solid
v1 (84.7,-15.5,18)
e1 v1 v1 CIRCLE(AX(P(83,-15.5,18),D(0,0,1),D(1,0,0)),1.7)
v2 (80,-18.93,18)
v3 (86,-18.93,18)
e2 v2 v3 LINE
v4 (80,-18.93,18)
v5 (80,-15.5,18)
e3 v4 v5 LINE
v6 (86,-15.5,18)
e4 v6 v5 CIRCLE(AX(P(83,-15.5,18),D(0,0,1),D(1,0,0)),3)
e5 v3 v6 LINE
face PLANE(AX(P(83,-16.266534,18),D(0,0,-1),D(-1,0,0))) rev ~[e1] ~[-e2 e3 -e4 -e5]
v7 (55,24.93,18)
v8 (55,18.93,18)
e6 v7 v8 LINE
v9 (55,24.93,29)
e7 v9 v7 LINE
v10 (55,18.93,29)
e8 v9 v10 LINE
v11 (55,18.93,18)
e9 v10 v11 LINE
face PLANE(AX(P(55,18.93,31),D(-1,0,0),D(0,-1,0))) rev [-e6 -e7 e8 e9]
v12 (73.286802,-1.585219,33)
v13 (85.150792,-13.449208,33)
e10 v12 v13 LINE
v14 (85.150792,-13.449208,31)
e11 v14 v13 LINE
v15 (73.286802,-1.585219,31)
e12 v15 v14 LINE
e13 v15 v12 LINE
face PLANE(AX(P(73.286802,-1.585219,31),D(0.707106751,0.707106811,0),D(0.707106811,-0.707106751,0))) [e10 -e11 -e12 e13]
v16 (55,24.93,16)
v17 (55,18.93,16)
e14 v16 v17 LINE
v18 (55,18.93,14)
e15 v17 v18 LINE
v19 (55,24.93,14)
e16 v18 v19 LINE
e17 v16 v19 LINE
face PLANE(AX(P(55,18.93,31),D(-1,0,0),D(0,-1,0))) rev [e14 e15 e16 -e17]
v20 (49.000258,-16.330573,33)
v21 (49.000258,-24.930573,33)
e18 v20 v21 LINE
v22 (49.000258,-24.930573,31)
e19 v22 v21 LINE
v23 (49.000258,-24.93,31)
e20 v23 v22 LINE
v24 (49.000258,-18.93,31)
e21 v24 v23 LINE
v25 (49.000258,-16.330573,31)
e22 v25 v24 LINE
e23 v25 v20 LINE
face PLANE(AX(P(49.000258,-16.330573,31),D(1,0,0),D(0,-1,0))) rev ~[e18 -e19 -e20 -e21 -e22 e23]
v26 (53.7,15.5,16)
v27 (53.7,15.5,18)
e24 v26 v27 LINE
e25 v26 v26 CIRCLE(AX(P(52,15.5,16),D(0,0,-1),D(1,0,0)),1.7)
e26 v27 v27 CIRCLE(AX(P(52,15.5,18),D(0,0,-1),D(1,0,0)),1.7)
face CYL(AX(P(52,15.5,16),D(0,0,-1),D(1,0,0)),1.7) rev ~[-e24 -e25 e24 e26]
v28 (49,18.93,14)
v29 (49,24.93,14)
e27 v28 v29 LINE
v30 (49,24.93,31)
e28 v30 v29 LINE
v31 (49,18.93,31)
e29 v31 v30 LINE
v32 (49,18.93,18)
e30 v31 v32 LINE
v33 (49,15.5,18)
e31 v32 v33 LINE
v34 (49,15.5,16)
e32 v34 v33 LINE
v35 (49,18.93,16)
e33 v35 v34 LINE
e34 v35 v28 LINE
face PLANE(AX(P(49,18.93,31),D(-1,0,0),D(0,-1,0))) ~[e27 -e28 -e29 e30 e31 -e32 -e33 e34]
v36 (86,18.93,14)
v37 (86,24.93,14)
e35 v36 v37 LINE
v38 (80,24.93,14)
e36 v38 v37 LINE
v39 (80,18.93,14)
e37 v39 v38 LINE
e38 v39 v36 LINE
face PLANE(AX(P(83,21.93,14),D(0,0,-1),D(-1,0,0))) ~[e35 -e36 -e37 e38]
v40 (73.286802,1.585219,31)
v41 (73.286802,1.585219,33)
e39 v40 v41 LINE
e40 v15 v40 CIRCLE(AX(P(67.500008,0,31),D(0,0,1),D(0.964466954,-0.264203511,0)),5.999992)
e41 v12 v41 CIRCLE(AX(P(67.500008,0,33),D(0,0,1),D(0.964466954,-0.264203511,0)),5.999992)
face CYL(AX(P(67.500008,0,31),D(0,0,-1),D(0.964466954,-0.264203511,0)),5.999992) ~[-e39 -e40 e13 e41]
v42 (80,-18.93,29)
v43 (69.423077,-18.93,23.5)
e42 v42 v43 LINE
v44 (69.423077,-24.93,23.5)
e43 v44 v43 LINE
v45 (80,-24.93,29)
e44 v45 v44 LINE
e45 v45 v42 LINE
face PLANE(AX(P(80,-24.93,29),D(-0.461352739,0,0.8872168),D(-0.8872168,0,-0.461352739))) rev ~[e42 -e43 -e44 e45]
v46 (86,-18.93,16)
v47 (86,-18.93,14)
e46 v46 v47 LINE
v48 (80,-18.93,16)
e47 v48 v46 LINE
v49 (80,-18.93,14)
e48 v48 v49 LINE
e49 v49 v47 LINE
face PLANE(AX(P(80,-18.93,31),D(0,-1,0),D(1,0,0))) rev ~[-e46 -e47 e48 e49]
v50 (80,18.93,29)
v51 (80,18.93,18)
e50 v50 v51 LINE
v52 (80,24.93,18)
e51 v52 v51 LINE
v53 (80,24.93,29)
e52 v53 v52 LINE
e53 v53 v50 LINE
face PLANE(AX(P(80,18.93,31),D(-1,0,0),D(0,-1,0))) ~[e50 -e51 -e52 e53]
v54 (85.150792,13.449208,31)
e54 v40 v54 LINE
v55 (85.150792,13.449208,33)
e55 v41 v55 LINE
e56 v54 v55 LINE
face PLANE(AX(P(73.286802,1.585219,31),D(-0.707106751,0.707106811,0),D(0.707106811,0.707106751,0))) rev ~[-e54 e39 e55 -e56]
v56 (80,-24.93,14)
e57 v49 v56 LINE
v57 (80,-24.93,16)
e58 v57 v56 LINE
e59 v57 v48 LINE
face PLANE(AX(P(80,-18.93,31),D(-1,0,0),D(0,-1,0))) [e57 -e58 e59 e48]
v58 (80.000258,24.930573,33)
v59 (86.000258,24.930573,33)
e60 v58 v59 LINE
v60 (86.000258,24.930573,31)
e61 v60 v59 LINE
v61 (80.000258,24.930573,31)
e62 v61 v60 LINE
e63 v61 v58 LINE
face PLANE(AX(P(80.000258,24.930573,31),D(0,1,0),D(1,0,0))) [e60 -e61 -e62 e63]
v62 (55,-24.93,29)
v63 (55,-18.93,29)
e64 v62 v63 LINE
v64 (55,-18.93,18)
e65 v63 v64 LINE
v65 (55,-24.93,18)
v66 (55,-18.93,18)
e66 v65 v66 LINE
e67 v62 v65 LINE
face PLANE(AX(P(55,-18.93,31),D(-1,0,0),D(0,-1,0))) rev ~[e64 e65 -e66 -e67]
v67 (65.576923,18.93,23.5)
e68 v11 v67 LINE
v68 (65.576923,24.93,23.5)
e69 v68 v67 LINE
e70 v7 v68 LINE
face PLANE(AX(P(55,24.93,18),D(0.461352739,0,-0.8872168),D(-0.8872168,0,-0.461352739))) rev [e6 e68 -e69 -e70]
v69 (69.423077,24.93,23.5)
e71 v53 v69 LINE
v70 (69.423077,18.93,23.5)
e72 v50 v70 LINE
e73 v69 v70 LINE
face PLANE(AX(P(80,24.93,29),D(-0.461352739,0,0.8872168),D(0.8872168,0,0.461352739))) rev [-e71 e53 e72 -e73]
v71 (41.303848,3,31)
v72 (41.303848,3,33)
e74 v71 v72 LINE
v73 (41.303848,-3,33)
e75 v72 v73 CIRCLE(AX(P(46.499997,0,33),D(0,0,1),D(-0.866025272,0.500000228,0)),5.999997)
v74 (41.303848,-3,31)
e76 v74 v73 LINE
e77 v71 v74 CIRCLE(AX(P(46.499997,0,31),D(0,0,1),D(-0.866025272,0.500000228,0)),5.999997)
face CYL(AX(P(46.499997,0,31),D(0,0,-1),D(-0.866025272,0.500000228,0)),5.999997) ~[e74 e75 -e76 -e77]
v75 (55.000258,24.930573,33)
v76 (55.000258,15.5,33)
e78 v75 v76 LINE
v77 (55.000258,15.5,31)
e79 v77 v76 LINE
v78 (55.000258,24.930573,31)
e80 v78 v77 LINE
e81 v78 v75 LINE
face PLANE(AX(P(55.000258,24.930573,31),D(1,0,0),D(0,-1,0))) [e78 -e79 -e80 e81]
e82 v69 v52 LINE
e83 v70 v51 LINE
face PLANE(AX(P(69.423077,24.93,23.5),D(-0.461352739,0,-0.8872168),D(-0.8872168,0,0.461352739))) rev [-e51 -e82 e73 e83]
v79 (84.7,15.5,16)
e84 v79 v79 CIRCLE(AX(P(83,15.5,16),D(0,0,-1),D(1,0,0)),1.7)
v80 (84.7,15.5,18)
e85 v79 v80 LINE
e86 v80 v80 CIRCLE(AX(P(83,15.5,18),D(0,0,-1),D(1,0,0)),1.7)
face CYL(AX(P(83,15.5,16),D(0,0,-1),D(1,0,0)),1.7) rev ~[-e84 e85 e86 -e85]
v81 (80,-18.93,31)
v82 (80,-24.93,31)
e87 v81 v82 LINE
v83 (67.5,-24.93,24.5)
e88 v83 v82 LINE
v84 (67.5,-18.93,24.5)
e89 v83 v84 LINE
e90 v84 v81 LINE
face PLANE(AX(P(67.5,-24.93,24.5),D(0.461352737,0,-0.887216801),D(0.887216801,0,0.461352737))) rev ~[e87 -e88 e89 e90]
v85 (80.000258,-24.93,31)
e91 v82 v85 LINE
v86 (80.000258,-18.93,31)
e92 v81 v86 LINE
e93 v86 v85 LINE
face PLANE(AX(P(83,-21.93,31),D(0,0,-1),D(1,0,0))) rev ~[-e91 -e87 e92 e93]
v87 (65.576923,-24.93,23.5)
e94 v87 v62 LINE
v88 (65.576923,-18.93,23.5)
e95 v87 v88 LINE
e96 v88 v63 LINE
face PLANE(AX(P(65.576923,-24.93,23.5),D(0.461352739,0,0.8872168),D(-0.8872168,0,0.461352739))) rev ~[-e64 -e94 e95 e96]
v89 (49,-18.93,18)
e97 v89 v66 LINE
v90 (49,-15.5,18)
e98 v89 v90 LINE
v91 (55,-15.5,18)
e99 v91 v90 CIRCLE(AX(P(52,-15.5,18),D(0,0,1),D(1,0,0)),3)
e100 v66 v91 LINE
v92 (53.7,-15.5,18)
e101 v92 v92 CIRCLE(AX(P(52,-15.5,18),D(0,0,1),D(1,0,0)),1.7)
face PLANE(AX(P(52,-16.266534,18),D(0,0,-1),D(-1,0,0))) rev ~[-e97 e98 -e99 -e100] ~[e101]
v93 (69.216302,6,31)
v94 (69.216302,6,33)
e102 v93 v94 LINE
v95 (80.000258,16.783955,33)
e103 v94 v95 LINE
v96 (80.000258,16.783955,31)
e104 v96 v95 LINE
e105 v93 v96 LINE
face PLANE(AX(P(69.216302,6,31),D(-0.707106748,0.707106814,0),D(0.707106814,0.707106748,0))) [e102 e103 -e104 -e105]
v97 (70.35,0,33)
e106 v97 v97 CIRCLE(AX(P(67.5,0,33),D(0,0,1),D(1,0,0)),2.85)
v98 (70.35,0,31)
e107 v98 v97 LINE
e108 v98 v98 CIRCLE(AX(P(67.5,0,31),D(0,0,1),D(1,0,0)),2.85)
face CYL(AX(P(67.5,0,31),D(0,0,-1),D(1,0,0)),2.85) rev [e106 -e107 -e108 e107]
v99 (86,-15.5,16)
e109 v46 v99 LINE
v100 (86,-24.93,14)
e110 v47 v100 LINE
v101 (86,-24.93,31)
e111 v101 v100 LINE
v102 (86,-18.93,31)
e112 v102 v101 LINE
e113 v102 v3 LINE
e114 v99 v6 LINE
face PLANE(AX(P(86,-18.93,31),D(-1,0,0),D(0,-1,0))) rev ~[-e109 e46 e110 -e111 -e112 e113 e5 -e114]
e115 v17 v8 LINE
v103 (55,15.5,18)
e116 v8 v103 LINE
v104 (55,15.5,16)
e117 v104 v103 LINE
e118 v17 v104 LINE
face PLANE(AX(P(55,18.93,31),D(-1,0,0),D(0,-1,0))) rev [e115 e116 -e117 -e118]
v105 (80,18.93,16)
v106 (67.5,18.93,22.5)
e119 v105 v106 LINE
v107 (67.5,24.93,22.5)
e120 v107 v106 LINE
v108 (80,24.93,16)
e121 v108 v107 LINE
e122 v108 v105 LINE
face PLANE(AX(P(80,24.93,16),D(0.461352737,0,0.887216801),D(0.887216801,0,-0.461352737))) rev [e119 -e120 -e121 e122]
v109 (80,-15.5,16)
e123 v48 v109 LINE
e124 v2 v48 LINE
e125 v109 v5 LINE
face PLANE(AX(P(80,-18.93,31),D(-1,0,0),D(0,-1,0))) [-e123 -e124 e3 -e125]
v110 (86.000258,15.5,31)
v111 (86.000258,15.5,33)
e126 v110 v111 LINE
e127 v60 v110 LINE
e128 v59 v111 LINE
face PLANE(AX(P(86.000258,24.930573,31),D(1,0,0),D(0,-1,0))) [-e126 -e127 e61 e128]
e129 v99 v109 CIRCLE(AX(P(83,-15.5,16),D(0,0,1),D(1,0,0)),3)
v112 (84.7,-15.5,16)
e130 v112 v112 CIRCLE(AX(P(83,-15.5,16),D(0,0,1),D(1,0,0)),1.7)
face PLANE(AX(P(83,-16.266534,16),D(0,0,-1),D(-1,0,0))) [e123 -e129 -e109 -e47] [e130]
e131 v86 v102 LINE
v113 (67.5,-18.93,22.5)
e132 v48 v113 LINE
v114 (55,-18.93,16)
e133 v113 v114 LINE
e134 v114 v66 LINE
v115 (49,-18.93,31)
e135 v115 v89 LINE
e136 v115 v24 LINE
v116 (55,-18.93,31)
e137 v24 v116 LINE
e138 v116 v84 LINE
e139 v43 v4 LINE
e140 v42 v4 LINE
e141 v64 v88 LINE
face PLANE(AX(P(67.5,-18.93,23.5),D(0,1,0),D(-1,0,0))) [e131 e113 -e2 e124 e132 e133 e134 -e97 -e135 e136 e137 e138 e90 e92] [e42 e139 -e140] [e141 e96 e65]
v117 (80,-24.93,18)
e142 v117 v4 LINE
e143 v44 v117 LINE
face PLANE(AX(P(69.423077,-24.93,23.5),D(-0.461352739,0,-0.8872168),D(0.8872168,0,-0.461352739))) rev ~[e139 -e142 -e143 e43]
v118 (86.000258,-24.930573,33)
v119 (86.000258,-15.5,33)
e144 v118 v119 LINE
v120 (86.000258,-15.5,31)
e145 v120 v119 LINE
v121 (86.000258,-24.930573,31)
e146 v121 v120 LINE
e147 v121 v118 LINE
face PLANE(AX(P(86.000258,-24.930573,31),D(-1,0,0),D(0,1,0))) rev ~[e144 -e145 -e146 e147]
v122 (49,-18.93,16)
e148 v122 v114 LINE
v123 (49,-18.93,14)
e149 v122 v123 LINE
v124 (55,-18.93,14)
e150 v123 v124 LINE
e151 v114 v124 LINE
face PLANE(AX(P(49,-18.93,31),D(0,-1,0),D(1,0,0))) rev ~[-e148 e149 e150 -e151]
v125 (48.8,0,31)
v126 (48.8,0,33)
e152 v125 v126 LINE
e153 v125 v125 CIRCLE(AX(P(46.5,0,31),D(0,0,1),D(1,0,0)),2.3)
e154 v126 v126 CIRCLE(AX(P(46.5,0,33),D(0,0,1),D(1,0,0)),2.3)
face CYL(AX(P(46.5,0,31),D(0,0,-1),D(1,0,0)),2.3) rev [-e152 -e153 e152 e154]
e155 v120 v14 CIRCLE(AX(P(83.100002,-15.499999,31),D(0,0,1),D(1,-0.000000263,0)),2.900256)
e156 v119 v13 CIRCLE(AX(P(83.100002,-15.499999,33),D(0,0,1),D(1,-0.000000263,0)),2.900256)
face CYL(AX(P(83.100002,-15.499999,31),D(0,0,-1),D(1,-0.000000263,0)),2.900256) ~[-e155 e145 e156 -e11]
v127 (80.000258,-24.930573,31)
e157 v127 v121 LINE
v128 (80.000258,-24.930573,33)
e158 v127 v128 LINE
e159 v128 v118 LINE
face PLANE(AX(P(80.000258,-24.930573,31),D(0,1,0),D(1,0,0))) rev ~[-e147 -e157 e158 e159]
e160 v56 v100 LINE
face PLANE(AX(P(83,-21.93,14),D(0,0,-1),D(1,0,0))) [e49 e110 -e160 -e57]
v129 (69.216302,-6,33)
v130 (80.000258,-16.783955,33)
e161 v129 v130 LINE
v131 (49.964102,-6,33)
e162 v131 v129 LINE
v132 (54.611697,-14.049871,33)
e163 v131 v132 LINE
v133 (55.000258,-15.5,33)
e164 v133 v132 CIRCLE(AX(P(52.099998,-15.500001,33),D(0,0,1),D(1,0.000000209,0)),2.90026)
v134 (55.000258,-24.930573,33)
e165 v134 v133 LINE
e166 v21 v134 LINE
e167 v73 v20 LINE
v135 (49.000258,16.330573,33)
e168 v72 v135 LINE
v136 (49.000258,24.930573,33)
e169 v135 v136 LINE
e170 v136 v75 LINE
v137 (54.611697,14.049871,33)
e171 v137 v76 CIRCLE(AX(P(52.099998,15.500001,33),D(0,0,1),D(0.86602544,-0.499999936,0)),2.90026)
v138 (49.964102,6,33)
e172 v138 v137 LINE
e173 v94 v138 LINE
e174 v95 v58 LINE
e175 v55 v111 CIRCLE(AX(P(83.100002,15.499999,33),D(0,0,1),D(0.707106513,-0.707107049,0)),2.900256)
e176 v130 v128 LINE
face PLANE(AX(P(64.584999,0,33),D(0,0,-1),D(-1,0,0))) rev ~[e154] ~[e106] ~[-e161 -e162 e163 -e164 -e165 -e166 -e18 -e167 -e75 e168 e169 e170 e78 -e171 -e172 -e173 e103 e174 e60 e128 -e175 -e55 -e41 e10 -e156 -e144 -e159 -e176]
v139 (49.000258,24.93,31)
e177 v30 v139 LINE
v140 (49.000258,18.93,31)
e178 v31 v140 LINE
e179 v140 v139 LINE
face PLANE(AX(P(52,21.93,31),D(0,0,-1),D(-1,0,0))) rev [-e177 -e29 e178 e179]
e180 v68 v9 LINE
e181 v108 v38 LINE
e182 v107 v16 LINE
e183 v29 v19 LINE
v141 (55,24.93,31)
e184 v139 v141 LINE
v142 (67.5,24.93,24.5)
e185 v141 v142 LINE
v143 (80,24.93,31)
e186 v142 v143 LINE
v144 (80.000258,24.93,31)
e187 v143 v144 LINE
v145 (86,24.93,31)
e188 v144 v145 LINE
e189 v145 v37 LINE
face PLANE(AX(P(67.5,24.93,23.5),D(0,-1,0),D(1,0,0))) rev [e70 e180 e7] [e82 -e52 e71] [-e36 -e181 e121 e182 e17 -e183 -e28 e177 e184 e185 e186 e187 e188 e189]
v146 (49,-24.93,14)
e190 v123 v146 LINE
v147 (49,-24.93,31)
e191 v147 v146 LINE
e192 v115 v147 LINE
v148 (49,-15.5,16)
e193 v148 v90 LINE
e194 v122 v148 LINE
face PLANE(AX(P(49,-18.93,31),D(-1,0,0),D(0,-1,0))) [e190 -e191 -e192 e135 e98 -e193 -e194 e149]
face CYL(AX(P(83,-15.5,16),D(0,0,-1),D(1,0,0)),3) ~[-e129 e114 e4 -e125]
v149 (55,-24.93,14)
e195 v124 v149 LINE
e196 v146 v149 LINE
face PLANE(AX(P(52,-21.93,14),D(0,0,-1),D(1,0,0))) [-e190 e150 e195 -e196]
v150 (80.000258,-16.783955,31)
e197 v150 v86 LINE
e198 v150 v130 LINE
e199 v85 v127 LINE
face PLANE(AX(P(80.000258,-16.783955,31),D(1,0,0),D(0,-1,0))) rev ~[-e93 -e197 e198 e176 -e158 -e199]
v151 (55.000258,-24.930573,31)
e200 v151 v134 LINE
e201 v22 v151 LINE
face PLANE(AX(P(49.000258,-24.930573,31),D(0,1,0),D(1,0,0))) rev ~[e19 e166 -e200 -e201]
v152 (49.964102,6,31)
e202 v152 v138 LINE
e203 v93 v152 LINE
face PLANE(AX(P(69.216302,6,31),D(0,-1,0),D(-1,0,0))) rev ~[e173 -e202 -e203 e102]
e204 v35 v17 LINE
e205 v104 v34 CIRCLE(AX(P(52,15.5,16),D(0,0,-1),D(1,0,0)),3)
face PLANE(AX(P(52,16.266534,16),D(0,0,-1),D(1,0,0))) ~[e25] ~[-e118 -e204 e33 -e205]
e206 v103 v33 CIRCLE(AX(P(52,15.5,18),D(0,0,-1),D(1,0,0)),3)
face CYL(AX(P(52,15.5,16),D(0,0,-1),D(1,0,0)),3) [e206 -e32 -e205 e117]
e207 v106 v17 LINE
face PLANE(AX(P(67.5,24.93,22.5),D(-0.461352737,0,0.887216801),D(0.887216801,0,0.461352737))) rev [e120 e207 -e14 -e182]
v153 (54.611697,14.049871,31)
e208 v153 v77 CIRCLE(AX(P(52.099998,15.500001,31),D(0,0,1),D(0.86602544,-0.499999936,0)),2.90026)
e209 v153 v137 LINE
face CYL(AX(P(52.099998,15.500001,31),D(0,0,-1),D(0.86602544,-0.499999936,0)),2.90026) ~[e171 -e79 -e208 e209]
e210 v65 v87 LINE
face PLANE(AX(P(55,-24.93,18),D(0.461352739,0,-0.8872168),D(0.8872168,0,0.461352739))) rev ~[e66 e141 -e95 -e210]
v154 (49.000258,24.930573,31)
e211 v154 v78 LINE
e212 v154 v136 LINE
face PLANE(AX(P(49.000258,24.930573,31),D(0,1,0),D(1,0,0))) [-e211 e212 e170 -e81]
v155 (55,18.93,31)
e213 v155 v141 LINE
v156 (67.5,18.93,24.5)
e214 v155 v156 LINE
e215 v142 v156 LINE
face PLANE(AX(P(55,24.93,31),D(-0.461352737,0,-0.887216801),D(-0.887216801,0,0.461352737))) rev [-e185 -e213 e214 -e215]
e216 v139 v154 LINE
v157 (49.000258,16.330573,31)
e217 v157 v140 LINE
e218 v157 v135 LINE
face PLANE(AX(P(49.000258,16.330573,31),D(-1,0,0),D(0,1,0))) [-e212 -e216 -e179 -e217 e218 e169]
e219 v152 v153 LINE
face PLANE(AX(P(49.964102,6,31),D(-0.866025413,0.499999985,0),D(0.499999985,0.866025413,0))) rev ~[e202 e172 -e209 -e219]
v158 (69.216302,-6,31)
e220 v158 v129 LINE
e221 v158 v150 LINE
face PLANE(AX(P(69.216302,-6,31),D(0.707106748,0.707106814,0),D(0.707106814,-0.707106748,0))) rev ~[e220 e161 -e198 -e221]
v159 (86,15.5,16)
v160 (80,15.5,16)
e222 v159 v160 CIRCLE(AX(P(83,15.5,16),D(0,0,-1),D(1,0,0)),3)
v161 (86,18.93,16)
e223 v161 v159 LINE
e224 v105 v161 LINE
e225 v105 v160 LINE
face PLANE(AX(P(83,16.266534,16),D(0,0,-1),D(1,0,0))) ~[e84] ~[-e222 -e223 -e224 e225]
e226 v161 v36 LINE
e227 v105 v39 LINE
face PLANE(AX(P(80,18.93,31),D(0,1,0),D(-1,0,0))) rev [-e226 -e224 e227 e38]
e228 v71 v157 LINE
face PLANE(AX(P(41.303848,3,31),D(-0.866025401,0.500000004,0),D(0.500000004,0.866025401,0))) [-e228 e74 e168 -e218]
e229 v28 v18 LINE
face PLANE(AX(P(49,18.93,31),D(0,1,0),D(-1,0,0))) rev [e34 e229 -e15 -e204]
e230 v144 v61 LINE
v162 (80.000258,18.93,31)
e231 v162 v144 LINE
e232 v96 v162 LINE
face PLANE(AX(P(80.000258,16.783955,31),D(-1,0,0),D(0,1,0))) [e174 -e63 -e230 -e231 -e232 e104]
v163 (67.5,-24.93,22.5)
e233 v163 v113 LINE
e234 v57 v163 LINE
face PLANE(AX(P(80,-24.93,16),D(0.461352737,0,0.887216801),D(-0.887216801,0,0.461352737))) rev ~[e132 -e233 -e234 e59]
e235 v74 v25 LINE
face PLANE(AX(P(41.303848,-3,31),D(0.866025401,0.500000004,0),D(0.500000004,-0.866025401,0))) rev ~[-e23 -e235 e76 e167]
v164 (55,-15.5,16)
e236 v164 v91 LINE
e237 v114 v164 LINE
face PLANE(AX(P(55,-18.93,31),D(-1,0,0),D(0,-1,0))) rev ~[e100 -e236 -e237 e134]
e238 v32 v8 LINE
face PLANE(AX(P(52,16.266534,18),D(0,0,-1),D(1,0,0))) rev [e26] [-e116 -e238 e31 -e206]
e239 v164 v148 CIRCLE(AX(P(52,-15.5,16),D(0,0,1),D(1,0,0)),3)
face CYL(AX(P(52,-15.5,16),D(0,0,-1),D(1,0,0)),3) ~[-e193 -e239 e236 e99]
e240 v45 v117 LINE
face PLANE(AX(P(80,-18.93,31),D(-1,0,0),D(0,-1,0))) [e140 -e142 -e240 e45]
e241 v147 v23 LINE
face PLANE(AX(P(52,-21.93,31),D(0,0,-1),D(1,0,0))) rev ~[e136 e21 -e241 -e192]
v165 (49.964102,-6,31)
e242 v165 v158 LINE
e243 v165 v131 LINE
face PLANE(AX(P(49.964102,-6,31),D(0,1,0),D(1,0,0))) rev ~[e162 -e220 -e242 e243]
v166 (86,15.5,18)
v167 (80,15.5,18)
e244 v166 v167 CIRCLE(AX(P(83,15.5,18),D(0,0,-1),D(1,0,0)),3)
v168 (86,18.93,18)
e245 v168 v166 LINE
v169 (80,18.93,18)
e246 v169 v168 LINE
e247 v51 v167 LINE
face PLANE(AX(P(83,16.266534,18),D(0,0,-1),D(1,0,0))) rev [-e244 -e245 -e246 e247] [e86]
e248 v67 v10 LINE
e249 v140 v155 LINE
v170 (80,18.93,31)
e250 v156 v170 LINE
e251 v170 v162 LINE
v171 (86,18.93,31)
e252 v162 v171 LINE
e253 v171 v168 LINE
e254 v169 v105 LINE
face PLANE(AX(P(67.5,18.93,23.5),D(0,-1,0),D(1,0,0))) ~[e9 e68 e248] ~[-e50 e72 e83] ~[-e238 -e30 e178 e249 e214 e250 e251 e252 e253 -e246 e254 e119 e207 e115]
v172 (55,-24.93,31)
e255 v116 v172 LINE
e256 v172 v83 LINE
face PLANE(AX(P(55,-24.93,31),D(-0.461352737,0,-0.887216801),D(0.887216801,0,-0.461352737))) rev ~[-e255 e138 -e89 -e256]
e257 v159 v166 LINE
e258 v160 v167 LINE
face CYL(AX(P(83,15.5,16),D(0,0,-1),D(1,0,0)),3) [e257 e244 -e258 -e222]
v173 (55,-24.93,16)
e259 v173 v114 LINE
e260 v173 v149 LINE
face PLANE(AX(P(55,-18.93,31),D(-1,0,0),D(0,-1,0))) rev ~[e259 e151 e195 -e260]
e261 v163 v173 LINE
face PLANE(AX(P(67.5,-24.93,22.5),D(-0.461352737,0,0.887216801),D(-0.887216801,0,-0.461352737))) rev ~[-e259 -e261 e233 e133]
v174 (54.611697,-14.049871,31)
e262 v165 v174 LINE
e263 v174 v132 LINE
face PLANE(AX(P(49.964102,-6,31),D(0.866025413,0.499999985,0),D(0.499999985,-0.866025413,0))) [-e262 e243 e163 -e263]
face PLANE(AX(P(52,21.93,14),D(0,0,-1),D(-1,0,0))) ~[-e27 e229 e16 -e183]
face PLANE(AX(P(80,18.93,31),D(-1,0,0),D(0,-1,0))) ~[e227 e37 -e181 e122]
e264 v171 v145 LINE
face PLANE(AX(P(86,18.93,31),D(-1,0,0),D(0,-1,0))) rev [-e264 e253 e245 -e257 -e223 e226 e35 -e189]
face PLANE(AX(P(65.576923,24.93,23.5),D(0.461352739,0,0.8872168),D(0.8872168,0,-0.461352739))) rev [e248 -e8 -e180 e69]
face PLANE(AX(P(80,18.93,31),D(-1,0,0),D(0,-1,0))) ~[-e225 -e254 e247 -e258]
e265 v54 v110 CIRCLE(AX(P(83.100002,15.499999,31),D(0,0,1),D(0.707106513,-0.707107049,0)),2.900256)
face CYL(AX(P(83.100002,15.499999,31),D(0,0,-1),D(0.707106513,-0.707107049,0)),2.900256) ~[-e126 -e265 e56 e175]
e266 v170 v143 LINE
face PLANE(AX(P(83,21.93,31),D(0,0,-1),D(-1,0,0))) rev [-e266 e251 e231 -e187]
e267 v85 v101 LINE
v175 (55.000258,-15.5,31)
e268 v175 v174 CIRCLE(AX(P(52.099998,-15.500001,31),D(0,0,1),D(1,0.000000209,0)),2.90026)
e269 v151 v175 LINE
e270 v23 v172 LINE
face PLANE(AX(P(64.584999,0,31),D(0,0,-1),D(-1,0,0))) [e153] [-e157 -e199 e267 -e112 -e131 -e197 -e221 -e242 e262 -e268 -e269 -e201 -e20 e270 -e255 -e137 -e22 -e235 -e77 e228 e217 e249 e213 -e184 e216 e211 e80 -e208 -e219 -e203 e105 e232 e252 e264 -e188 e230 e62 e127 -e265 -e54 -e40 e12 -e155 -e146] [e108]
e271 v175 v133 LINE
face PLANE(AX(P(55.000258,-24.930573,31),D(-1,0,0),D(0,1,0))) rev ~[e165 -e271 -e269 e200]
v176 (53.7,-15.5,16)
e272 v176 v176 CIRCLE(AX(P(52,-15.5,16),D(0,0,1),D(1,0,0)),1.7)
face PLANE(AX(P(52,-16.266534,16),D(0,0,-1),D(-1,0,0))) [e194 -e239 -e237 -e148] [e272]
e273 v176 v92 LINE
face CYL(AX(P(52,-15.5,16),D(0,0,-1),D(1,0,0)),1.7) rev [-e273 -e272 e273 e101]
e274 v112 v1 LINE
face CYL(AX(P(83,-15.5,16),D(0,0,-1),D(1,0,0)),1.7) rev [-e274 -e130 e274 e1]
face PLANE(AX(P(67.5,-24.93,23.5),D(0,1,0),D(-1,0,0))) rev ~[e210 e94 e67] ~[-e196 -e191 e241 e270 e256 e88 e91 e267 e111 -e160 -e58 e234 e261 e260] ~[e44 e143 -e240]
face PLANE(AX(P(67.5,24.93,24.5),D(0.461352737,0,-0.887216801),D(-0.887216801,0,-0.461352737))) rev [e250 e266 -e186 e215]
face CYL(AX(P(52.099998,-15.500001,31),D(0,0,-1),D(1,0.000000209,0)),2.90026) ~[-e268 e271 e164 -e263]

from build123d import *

# Parameters (mm, degrees)
SKETCH094_R                     = 2.3
SKETCH094_R_2                   = 2.85
PAD048_DEPTH                    = 2
SKETCH097_W                     = 6
SKETCH097_H                     = 6
PAD050_DEPTH                    = 17
SKETCH098_R                     = 1.7
PAD051_DEPTH                    = 2
SKETCH098_LINEARPATTERN001_2_R  = 1.7
PAD051_LINEARPATTERN001_2_DEPTH = 2
SKETCH097_LINEARPATTERN001_2_W  = 6
SKETCH097_LINEARPATTERN001_2_H  = 6
PAD050_LINEARPATTERN001_2_DEPTH = 17
PAD052_DEPTH                    = 6


with BuildPart() as part:
    # Sketch094 → Pad048 (new body)
    with BuildSketch(Plane.XY):
        with BuildLine():
            Line((3.464102, 6), (21, 6))
            Line((22.716302, 6), (21, 6))
            Line((22.716302, 6), (33.500258, 16.783955))
            Line((33.500258, 16.783955), (33.500258, 24.930573))
            Line((33.500258, 24.930573), (39.500258, 24.930573))
            Line((39.500258, 24.930573), (39.500258, 15.5))
            ThreePointArc((38.650792, 13.449208), (39.279489, 14.390119), (39.500258, 15.5))
            Line((26.786802, 1.585219), (38.650792, 13.449208))
            ThreePointArc((26.786802, -1.585219), (27, 0), (26.786802, 1.585219))
            Line((26.786802, -1.585219), (38.650792, -13.449208))
            ThreePointArc((39.500258, -15.5), (39.279489, -14.390119), (38.650792, -13.449208))
            Line((39.500258, -24.930573), (39.500258, -15.5))
            Line((33.500258, -24.930573), (39.500258, -24.930573))
            Line((33.500258, -16.783955), (33.500258, -24.930573))
            Line((22.716302, -6), (33.500258, -16.783955))
            Line((21, -6), (22.716302, -6))
            Line((3.464102, -6), (21, -6))
            Line((3.464102, -6), (8.111697, -14.049871))
            ThreePointArc((8.500258, -15.5), (8.401434, -14.749358), (8.111697, -14.049871))
            Line((8.500258, -24.930573), (8.500258, -15.5))
            Line((2.500258, -24.930573), (8.500258, -24.930573))
            Line((2.500258, -16.330573), (2.500258, -24.930573))
            Line((-5.196152, -3), (2.500258, -16.330573))
            ThreePointArc((-5.196152, 3), (-6, 0), (-5.196152, -3))
            Line((-5.196152, 3), (2.500258, 16.330573))
            Line((2.500258, 16.330573), (2.500258, 24.930573))
            Line((2.500258, 24.930573), (8.500258, 24.930573))
            Line((8.500258, 24.930573), (8.500258, 15.5))
            ThreePointArc((8.111697, 14.049871), (8.401434, 14.749358), (8.500258, 15.5))
            Line((3.464102, 6), (8.111697, 14.049871))
        make_face()
        Circle(SKETCH094_R, mode=Mode.SUBTRACT)
        with Locations((21, 0)):
            Circle(SKETCH094_R_2, mode=Mode.SUBTRACT)
    extrude(amount=PAD048_DEPTH)

    # Sketch097 (on Face33 of Pad048) → Pad050 (join)
    with BuildSketch(Plane(origin=(0, 0, 0), x_dir=(1, 0, 0), z_dir=(0, 0, -1))):
        with Locations((5.5, 21.93)):
            Rectangle(SKETCH097_W, SKETCH097_H)
    pad050 = extrude(amount=PAD050_DEPTH)

    # Sketch098 → Pad051 (join)
    with BuildSketch(Plane.XY.offset(-15)):
        with BuildLine():
            Line((2.5, -18.93), (2.5, -15.5))
            ThreePointArc((8.5, -15.5), (5.5, -12.5), (2.5, -15.5))
            Line((8.5, -18.93), (8.5, -15.5))
            Line((2.5, -18.93), (8.5, -18.93))
        make_face()
        with Locations((5.5, -15.5)):
            Circle(SKETCH098_R, mode=Mode.SUBTRACT)
    pad051 = extrude(amount=PAD051_DEPTH)

    # Sketch098 LinearPattern001 2 → Pad051 LinearPattern001 2 (add)
    with BuildSketch(Plane(origin=(31, 0, -15), x_dir=(1, 0, 0), z_dir=(0, 0, 1))):
        with BuildLine():
            Line((2.5, -18.93), (2.5, -15.5))
            ThreePointArc((8.5, -15.5), (5.5, -12.5), (2.5, -15.5))
            Line((8.5, -18.93), (8.5, -15.5))
            Line((2.5, -18.93), (8.5, -18.93))
        make_face()
        with Locations((5.5, -15.5)):
            Circle(SKETCH098_LINEARPATTERN001_2_R, mode=Mode.SUBTRACT)
    pad051_linearpattern001_2 = extrude(amount=PAD051_LINEARPATTERN001_2_DEPTH)

    # Sketch097 LinearPattern001 2 → Pad050 LinearPattern001 2 (add)
    with BuildSketch(Plane(origin=(31, 0, 0), x_dir=(1, 0, 0), z_dir=(0, 0, -1))):
        with Locations((5.5, 21.93)):
            Rectangle(SKETCH097_LINEARPATTERN001_2_W, SKETCH097_LINEARPATTERN001_2_H)
    pad050_linearpattern001_2 = extrude(amount=PAD050_LINEARPATTERN001_2_DEPTH)

    # Mirrored001: Pad051, Pad050, Pad051 LinearPattern001 2, Pad050 LinearPattern001 2 across Sketch098 H_Axis
    add(pad051.mirror(Plane(origin=(0, 0, -15), x_dir=(0, 0, 1), z_dir=(0, 1, 0))))
    add(pad050.mirror(Plane(origin=(0, 0, -15), x_dir=(0, 0, 1), z_dir=(0, 1, 0))))
    add(pad051_linearpattern001_2.mirror(Plane(origin=(0, 0, -15), x_dir=(0, 0, 1), z_dir=(0, 1, 0))))
    add(pad050_linearpattern001_2.mirror(Plane(origin=(0, 0, -15), x_dir=(0, 0, 1), z_dir=(0, 1, 0))))

    # Sketch099 (on Face36 of MultiTransform001) → Pad052 (join)
    with BuildSketch(Plane.XZ.offset(24.93)):
        Polygon((8.5, 0), (21, -6.5), (33.5, 0), (33.5, -2), (22.923077, -7.5), (33.5, -13), (33.5, -15), (21, -8.5), (8.5, -15), (8.5, -13), (19.076923, -7.5), (8.5, -2), align=None)
    pad052 = extrude(amount=-PAD052_DEPTH)

    # Mirrored002: Pad052 across XZ
    add(pad052.mirror(Plane.XZ))


with BuildPart() as part_1:
    # Body024 placement: moved
    add(part.part.moved(Location((46.5, 0, 31))))


solid = part_1.part
